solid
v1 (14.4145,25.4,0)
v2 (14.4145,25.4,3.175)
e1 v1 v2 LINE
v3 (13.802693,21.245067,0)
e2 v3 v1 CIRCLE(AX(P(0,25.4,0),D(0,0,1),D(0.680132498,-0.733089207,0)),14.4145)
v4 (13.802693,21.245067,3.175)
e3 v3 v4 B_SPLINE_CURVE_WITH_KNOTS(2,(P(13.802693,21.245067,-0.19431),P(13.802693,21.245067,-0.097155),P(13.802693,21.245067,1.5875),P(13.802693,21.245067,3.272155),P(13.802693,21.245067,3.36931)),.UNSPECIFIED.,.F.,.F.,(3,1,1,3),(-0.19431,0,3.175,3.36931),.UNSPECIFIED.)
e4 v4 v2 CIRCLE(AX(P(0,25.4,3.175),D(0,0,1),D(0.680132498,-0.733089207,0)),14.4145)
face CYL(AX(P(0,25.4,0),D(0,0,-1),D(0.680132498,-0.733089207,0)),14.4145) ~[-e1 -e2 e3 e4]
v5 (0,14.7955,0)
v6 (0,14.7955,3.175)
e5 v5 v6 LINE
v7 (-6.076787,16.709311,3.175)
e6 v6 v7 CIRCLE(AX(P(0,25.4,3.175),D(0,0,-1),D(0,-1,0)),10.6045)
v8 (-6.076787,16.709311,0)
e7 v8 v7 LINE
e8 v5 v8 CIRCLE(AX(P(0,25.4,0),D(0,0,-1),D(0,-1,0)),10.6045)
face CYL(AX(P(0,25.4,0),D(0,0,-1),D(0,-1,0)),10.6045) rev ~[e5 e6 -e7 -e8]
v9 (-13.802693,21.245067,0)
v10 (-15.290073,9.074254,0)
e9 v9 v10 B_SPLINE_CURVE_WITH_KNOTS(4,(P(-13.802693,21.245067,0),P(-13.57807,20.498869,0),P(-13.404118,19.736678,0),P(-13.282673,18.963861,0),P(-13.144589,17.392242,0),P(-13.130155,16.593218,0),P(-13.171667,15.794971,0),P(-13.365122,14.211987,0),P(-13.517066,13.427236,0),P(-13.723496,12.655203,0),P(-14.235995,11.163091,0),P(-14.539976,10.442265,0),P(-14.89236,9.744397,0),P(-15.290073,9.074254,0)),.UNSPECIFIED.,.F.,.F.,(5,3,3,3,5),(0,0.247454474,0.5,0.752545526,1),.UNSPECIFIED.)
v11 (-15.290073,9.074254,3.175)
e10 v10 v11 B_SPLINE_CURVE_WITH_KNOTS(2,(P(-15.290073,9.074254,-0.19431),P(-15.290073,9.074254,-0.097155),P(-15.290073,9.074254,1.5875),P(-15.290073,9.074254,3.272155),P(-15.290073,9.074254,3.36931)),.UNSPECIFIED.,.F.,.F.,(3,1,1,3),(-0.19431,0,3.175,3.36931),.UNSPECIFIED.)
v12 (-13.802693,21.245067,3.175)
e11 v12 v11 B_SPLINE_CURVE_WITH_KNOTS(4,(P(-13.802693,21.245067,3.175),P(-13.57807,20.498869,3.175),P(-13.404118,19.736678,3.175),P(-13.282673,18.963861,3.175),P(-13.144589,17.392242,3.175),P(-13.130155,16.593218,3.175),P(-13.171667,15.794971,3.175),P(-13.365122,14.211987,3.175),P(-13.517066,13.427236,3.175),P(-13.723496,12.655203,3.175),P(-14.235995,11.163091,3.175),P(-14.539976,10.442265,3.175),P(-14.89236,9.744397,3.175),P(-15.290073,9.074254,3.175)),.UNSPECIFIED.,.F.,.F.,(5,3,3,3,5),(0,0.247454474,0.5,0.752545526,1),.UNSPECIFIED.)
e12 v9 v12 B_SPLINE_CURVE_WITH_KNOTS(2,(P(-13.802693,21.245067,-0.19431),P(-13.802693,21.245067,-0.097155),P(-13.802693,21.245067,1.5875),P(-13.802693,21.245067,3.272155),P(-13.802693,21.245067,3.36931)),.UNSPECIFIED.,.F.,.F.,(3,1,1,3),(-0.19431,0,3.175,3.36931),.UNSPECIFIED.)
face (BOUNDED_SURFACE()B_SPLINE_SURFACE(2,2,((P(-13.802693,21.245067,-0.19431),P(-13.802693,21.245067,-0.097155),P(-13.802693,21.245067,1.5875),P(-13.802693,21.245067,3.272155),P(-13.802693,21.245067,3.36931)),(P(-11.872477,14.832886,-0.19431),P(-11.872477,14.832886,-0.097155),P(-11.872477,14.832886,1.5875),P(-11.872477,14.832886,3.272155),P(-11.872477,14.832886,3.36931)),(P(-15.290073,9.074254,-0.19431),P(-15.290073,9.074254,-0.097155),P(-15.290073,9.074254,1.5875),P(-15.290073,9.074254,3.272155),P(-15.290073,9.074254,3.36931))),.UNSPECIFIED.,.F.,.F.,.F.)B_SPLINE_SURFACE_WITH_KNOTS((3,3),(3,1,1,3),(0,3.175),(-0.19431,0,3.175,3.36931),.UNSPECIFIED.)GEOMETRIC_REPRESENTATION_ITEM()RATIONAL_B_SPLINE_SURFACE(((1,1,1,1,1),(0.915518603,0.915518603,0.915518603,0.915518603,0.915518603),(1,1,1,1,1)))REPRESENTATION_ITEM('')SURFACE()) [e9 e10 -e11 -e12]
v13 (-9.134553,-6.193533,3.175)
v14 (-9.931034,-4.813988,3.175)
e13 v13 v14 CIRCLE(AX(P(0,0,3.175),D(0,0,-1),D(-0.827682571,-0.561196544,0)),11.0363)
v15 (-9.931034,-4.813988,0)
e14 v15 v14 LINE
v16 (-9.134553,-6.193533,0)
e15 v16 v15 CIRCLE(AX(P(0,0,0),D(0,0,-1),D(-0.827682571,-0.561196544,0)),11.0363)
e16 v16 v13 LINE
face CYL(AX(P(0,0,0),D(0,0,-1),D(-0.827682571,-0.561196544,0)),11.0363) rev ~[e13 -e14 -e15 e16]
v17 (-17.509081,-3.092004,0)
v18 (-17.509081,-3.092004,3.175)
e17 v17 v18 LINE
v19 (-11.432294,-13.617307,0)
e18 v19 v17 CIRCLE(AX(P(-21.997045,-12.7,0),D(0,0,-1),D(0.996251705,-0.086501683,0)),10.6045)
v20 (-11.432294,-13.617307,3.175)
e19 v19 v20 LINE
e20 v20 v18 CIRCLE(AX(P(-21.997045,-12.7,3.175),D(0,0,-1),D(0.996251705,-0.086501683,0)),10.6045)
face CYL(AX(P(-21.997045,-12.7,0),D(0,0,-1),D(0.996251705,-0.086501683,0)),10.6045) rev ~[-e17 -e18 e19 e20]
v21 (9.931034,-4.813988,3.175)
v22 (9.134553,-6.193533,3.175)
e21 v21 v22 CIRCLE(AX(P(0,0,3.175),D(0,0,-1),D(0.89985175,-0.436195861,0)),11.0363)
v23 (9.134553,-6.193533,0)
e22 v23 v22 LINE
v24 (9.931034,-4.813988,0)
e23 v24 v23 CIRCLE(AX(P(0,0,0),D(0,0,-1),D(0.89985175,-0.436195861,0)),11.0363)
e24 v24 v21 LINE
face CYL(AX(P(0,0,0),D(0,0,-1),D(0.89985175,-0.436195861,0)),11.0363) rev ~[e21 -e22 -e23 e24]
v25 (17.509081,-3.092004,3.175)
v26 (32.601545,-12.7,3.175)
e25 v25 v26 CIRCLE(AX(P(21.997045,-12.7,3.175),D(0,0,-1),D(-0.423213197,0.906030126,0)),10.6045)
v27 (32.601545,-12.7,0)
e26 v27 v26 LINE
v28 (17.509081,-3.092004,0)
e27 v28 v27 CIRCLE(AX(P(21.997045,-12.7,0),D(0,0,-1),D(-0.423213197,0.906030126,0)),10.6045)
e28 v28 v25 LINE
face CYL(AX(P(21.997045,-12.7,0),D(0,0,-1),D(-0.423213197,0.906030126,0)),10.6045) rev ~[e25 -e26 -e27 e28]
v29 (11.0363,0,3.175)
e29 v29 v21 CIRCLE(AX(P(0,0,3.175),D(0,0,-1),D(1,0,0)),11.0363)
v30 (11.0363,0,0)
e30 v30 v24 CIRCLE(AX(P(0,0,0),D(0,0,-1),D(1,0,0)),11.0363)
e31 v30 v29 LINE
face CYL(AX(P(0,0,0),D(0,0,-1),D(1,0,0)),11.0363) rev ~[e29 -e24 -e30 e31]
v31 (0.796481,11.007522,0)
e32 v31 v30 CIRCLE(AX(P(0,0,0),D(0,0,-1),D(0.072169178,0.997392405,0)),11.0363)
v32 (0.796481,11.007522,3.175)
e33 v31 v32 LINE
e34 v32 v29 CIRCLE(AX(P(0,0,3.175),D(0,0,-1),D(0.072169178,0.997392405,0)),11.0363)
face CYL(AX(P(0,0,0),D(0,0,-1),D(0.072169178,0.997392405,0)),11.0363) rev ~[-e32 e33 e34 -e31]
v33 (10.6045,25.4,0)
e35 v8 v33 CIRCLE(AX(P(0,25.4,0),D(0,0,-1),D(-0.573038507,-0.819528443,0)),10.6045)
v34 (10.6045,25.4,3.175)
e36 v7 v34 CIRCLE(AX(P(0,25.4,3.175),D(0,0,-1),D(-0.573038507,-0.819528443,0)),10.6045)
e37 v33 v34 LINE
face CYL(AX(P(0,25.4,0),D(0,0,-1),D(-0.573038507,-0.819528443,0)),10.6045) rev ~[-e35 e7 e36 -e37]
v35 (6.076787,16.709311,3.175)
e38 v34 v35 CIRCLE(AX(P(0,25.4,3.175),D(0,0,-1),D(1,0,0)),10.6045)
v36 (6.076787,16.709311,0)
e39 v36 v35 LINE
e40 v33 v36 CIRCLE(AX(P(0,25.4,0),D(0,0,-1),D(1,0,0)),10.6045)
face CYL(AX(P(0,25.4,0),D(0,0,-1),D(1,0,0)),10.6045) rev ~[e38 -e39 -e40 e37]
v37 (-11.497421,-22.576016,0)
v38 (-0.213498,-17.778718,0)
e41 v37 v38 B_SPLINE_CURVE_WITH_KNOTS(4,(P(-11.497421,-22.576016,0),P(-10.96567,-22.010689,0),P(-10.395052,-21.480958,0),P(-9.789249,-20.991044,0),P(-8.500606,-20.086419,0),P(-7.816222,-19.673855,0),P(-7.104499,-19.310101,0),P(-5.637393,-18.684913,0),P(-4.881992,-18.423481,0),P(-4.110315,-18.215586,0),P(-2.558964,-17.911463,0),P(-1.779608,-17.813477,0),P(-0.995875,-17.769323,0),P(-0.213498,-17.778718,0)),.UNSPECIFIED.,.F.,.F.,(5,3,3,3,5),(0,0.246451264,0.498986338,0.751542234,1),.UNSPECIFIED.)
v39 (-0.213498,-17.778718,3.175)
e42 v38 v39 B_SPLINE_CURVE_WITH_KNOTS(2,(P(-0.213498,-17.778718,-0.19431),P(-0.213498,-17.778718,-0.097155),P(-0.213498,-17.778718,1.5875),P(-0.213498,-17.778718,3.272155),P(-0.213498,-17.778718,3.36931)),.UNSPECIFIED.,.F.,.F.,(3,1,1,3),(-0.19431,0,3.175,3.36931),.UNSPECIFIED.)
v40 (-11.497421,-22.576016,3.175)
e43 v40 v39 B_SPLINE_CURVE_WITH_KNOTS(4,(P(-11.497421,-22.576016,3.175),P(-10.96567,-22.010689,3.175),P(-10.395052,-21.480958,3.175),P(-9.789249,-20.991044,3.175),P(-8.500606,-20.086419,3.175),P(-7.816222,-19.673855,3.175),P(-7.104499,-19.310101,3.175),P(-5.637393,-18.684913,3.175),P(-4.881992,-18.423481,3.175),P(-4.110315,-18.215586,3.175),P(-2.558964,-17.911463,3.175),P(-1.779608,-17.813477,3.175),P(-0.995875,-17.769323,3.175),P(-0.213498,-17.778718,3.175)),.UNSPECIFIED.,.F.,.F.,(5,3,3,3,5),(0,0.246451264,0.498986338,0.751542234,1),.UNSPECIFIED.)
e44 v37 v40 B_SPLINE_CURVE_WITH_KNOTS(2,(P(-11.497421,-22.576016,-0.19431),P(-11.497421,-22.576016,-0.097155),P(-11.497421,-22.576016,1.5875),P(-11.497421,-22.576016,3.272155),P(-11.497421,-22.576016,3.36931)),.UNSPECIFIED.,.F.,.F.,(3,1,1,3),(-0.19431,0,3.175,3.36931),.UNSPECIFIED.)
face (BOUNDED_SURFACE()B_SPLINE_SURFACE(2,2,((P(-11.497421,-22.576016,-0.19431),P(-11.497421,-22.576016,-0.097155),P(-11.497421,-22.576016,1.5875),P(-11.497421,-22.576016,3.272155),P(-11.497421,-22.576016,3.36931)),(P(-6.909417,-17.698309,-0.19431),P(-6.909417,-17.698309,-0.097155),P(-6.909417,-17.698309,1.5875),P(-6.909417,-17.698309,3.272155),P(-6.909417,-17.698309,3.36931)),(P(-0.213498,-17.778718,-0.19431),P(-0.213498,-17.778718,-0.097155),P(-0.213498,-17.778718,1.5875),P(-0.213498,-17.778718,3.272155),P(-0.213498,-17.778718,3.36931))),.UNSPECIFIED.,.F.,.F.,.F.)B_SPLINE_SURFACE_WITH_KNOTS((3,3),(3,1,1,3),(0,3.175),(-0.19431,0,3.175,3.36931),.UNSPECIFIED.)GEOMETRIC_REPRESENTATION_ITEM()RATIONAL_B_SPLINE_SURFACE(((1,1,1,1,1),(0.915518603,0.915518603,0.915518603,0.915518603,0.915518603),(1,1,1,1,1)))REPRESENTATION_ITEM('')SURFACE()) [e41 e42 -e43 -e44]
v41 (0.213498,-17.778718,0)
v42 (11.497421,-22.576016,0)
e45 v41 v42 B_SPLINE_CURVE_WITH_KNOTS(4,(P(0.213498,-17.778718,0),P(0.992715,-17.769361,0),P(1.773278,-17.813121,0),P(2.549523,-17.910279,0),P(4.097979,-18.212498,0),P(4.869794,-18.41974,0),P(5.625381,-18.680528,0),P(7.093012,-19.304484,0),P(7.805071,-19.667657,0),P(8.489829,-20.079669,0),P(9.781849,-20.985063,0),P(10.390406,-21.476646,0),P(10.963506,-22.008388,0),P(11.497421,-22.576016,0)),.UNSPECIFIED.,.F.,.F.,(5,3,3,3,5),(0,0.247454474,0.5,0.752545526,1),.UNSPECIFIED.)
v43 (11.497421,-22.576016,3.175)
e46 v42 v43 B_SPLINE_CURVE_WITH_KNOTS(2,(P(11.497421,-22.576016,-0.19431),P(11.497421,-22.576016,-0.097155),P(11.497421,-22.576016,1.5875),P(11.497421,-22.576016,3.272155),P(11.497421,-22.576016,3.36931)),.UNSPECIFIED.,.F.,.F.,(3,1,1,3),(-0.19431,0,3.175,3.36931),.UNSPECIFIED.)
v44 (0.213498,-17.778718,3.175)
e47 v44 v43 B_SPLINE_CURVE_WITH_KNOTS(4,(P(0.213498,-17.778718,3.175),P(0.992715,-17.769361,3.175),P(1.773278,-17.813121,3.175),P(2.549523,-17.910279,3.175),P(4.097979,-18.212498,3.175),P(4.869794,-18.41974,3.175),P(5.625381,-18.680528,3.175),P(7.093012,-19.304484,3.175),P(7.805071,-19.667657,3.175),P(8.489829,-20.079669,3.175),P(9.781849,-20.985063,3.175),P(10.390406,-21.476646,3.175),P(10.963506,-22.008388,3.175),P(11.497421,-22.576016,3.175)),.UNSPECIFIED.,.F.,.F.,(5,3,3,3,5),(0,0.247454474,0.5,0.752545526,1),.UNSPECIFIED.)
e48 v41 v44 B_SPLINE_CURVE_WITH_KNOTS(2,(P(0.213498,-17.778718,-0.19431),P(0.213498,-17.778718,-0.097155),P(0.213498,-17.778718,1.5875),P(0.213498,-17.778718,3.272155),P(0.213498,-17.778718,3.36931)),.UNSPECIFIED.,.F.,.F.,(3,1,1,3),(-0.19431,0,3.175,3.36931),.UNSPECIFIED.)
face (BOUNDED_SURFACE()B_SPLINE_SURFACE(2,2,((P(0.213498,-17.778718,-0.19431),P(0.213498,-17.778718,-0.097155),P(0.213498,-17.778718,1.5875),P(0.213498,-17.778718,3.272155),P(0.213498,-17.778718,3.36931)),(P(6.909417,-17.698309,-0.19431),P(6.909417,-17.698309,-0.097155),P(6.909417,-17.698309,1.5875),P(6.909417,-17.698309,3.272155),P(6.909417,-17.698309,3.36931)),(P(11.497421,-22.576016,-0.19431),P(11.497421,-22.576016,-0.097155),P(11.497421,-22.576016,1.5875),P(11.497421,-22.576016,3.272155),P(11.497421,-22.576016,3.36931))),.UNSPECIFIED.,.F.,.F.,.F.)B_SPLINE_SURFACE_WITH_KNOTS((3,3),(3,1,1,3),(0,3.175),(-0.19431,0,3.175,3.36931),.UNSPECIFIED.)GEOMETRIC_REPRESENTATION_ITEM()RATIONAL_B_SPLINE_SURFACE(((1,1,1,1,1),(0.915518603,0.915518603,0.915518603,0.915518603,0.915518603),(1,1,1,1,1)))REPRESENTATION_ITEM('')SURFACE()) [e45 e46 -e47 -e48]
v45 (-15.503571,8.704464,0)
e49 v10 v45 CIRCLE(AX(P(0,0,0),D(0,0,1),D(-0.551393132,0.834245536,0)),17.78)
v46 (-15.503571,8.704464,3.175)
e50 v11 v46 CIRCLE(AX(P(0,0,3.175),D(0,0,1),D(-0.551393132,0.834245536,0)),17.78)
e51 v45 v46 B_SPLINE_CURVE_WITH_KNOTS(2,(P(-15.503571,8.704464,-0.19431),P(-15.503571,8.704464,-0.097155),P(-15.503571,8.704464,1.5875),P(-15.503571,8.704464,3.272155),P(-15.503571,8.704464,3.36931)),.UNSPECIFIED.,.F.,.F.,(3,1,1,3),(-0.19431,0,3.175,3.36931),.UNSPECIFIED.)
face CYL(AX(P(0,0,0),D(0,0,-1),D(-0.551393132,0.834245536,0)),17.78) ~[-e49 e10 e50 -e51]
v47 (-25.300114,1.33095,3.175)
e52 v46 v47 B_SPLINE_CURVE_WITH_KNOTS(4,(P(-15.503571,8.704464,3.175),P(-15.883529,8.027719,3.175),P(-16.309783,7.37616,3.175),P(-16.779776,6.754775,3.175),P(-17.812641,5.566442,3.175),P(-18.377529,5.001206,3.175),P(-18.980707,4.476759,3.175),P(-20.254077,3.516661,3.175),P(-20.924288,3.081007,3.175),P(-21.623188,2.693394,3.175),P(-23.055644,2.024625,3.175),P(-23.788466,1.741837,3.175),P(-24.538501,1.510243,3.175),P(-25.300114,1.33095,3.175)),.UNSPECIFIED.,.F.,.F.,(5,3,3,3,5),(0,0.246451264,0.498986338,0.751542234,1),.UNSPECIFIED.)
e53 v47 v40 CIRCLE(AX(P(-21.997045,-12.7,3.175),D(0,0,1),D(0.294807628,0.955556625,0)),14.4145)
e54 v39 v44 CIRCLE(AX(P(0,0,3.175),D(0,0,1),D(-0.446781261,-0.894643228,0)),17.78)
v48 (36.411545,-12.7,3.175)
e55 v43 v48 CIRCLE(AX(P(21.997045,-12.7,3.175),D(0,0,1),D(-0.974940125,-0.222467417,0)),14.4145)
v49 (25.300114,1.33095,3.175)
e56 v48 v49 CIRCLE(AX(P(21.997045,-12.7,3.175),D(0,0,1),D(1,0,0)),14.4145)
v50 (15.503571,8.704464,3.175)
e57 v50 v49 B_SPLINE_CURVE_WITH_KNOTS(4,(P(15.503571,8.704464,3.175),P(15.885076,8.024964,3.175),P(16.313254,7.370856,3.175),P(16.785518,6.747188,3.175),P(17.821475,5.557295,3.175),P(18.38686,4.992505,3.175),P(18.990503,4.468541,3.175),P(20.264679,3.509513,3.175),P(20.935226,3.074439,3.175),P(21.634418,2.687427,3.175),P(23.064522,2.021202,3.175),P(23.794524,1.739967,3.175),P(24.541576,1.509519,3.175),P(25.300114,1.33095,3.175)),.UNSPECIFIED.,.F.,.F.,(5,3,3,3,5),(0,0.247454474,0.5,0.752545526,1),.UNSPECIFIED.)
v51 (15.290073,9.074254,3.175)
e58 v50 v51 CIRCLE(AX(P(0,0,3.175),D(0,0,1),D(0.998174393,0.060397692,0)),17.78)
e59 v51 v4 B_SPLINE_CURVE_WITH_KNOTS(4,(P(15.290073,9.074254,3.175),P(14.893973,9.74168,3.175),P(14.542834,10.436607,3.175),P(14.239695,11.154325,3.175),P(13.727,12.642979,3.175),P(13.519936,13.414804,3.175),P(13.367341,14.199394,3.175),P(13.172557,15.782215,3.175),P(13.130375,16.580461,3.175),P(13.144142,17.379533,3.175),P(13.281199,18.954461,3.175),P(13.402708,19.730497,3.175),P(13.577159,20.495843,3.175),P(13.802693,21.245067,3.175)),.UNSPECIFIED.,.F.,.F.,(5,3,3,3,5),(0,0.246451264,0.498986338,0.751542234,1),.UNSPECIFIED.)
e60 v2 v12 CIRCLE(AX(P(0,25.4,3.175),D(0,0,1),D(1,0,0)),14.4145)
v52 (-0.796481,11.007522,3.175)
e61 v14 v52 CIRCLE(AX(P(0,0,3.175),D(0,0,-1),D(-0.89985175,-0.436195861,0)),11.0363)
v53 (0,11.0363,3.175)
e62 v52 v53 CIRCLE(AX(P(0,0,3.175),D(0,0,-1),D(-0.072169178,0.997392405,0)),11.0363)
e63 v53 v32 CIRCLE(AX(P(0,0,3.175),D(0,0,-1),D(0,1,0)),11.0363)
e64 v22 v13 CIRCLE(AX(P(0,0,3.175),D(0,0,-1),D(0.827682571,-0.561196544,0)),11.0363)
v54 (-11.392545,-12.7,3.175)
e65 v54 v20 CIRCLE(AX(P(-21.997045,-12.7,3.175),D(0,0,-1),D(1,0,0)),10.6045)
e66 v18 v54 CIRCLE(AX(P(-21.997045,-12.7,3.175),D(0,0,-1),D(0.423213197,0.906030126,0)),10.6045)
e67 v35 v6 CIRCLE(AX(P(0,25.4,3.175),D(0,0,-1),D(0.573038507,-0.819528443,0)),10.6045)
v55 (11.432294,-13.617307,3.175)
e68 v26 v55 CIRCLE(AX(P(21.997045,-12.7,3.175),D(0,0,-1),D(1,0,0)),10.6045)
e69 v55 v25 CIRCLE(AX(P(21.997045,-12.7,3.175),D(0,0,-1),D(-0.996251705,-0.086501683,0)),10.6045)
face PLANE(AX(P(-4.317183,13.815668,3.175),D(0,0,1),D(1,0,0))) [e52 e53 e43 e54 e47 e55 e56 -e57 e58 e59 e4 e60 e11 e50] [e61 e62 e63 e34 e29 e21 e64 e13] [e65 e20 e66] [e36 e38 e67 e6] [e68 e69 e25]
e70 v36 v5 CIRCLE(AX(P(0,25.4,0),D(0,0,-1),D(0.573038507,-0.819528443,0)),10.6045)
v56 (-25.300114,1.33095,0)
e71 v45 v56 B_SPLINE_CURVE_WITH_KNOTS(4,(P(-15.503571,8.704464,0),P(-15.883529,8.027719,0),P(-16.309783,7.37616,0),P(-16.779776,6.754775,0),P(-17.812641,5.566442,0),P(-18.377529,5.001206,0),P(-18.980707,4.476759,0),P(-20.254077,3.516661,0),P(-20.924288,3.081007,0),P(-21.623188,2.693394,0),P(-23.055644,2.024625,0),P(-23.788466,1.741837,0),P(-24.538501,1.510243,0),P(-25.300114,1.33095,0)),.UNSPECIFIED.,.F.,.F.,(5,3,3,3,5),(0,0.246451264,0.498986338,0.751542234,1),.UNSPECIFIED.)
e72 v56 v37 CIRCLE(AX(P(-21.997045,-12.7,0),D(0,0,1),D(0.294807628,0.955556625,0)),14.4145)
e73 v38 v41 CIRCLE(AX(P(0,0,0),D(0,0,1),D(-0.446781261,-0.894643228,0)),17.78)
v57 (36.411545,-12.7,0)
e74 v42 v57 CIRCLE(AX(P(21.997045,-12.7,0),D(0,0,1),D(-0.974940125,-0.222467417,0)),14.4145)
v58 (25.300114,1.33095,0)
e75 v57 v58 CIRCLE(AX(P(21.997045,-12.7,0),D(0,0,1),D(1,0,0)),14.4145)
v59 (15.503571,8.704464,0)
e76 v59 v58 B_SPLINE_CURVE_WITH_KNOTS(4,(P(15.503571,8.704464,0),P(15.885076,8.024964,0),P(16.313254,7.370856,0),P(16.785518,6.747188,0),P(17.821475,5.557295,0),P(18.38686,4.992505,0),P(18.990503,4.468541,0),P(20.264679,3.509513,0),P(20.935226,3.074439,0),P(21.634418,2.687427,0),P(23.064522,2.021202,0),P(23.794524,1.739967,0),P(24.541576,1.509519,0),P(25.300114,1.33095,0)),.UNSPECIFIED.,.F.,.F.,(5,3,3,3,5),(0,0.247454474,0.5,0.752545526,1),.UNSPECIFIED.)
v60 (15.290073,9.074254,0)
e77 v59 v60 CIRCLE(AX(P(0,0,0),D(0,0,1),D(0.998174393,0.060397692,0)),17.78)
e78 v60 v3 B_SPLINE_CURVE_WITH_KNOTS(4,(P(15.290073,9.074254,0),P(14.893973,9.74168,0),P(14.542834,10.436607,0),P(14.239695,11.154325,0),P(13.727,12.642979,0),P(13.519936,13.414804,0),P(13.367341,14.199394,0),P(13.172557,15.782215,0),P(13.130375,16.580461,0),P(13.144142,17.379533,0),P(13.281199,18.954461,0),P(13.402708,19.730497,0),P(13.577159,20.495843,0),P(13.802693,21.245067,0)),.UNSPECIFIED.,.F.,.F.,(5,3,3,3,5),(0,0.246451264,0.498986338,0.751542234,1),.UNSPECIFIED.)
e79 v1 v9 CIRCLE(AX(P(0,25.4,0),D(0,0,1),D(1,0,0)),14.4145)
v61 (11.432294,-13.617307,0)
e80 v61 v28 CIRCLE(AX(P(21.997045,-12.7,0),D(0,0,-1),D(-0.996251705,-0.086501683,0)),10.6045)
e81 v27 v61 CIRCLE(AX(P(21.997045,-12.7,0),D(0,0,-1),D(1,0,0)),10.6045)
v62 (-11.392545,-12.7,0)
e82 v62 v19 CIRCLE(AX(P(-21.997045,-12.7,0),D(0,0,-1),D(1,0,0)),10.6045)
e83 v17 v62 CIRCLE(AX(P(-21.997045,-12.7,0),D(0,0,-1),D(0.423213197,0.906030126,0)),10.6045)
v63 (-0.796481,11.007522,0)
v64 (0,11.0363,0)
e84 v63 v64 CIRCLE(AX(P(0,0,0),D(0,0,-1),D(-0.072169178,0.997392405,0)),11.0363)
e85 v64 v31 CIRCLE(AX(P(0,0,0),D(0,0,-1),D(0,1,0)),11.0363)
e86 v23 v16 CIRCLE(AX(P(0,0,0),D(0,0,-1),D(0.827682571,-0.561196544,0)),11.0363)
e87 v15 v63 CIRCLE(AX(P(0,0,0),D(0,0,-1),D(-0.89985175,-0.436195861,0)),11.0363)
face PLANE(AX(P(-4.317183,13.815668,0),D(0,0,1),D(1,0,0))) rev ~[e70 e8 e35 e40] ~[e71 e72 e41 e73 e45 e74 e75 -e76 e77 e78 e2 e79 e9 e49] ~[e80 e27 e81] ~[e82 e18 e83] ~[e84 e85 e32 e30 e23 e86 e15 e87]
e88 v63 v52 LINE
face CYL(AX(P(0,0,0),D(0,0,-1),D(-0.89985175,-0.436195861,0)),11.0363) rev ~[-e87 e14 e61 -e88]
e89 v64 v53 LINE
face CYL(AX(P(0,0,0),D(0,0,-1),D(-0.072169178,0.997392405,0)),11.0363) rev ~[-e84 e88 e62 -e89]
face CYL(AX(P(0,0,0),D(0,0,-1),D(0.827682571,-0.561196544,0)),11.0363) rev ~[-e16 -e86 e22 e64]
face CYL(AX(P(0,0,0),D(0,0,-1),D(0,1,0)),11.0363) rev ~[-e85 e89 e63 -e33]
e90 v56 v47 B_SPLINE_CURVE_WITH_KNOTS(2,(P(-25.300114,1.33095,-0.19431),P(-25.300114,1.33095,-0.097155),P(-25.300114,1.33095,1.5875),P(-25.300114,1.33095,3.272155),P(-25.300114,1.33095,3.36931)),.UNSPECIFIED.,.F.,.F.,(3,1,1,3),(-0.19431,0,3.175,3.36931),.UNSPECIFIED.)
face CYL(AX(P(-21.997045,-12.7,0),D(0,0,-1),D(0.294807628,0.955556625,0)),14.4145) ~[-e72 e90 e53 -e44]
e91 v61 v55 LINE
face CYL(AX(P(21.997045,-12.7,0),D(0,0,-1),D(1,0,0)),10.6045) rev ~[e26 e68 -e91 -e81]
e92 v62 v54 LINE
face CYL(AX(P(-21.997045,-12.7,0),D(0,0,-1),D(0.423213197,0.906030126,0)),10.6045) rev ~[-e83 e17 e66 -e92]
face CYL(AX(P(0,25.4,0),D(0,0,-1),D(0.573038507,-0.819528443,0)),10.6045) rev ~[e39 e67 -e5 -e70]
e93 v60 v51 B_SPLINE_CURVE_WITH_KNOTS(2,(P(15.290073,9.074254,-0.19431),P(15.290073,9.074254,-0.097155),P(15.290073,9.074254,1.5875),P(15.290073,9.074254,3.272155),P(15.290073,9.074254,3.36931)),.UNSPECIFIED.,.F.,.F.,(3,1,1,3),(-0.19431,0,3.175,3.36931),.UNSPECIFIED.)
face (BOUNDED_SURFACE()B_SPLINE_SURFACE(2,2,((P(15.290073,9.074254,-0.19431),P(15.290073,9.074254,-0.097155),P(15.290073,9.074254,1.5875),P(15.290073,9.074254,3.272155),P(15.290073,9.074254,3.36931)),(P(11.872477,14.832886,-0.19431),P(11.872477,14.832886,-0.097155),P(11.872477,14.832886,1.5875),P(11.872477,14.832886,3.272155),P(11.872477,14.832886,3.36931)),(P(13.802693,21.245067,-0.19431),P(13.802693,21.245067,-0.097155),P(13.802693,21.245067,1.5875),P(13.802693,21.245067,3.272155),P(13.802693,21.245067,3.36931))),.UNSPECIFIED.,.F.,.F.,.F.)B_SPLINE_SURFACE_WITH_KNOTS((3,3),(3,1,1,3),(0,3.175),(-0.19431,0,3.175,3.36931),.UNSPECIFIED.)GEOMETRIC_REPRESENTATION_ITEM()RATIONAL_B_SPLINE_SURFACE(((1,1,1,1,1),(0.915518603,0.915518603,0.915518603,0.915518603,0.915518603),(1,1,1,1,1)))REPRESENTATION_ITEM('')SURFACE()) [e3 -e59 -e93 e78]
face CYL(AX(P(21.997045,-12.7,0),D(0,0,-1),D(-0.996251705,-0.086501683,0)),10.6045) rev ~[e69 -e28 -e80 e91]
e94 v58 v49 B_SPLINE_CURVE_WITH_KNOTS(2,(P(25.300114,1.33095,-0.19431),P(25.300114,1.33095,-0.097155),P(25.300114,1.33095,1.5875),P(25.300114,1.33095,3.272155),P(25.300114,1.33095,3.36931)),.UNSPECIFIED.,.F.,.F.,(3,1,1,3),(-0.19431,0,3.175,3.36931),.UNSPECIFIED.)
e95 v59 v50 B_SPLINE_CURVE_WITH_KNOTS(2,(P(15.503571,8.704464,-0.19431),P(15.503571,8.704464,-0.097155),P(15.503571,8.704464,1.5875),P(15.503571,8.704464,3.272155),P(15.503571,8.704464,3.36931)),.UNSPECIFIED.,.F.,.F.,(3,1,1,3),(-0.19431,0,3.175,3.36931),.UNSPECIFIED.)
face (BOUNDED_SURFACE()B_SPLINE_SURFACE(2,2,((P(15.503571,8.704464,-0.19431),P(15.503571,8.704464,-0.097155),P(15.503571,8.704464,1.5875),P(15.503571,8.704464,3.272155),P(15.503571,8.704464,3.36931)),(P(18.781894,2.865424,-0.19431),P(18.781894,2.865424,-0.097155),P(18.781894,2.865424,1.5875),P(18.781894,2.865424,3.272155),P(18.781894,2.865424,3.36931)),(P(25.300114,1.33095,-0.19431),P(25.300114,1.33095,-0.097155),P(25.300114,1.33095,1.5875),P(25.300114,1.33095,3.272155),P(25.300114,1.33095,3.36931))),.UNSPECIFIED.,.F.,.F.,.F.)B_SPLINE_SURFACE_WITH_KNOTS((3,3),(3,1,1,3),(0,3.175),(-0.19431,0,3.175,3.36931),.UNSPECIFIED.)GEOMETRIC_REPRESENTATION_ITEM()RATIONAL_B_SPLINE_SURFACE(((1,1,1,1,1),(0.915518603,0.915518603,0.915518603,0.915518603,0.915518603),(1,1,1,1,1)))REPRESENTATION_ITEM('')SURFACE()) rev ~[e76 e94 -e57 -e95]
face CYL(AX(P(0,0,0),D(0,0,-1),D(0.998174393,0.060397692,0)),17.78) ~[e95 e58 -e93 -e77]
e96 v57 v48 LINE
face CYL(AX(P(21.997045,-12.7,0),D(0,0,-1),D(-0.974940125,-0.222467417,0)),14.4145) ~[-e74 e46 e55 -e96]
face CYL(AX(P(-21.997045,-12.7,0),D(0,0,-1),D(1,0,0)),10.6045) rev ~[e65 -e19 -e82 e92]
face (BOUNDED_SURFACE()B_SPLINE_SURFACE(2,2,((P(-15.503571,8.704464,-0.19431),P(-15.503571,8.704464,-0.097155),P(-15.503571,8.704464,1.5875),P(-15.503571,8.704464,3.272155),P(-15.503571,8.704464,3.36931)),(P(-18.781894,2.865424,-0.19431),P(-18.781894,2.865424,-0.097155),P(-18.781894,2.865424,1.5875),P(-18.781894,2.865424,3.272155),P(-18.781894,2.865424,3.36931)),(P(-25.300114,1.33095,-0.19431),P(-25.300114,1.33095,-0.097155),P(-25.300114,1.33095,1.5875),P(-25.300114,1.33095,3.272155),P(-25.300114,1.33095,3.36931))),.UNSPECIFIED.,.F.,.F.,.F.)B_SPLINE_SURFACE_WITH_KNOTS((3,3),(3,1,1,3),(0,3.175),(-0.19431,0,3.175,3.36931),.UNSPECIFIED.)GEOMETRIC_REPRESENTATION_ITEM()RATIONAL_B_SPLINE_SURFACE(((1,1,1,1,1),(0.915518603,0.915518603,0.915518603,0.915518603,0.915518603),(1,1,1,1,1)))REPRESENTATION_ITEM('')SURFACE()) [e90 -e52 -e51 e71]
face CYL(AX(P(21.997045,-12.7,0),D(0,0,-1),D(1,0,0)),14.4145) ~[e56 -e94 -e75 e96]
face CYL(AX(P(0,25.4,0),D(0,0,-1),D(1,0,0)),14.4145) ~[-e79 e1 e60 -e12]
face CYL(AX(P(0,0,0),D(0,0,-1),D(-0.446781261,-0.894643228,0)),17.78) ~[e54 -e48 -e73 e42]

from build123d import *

# Parameters (mm, degrees)
F1_DEPTH = 3.175
F2_R     = 15.24


with BuildPart() as f1:
    # F0 (on Top) → F1 (new body)
    with BuildSketch(Plane.XY):
        with BuildLine():
            ThreePointArc((-0.7964807044, 11.0075218), (-0.3985002187, 11.0291031034), (0, 11.0363))
            Line((0, 11.0363), (0, 14.7955))
            ThreePointArc((0, 14.7955), (-3.1855144618, 15.2852623433), (-6.0767868514, 16.709310625))
            ThreePointArc((-6.0767868514, 16.709310625), (-7.9955151986, 15.8808103291), (-9.803769889, 14.832885625))
            ThreePointArc((-9.803769889, 14.832885625), (-5.6346854623, 12.132440692), (-0.7964807044, 11.0075218))
        make_face()
        with BuildLine():
            Line((0, 14.7955), (0, 11.0363))
            ThreePointArc((0, 11.0363), (0.3985002187, 11.0291031034), (0.7964807044, 11.0075218))
            ThreePointArc((0.7964807044, 11.0075218), (5.6346854623, 12.132440692), (9.803769889, 14.832885625))
            ThreePointArc((9.803769889, 14.832885625), (7.9955151986, 15.8808103291), (6.0767868514, 16.709310625))
            ThreePointArc((6.0767868514, 16.709310625), (3.1855144618, 15.2852623433), (0, 14.7955))
        make_face()
        with BuildLine():
            ThreePointArc((-9.9310338637, -4.8139883763), (-9.5577161638, 5.51815), (-0.7964807044, 11.0075218))
            ThreePointArc((-0.7964807044, 11.0075218), (-5.6346854623, 12.132440692), (-9.803769889, 14.832885625))
            ThreePointArc((-9.803769889, 14.832885625), (-15.3979316793, 8.89), (-17.7475407072, 1.0738709642))
            ThreePointArc((-17.7475407072, 1.0738709642), (-13.3243445803, -1.1864395933), (-9.9310338637, -4.8139883763))
        make_face()
        with BuildLine():
            ThreePointArc((9.803769889, 14.832885625), (5.6346854623, 12.132440692), (0.7964807044, 11.0075218))
            ThreePointArc((0.7964807044, 11.0075218), (8.0805358018, 7.5169713879), (11.0363, 0))
            ThreePointArc((11.0363, 0), (10.7564349745, -2.4696202805), (9.9310338637, -4.8139883763))
            ThreePointArc((9.9310338637, -4.8139883763), (13.3243445803, -1.1864395933), (17.7475407072, 1.0738709642))
            ThreePointArc((17.7475407072, 1.0738709642), (15.3979316793, 8.89), (9.803769889, 14.832885625))
        make_face()
        with BuildLine():
            ThreePointArc((-9.1345531593, -6.1935334237), (-9.5577161638, -5.51815), (-9.9310338637, -4.8139883763))
            ThreePointArc((-9.9310338637, -4.8139883763), (-13.3243445803, -1.1864395933), (-17.7475407072, 1.0738709642))
            ThreePointArc((-17.7475407072, 1.0738709642), (-17.750942777, -1.0160858862), (-17.5090809067, -3.0920035258))
            ThreePointArc((-17.5090809067, -3.0920035258), (-13.0514307386, -7.0051425696), (-11.3925452561, -12.7))
            ThreePointArc((-11.3925452561, -12.7), (-11.4024871162, -13.1590839469), (-11.4322940553, -13.6173070992))
            ThreePointArc((-11.4322940553, -13.6173070992), (-9.7554275784, -14.8647244429), (-7.9437708182, -15.9067565892))
            ThreePointArc((-7.9437708182, -15.9067565892), (-7.6731363163, -14.3135188044), (-7.5825452561, -12.7))
            ThreePointArc((-7.5825452561, -12.7), (-7.9759147279, -9.3554957079), (-9.1345531593, -6.1935334237))
        make_face()
        with BuildLine():
            ThreePointArc((14.4145, 25.4), (-5.7646061958, 38.6116284256), (-9.803769889, 14.832885625))
            ThreePointArc((-9.803769889, 14.832885625), (-7.9955151986, 15.8808103291), (-6.0767868514, 16.709310625))
            ThreePointArc((-6.0767868514, 16.709310625), (-4.8997007095, 34.8046984645), (10.6045, 25.4))
            ThreePointArc((10.6045, 25.4), (9.4046984645, 20.5002992905), (6.0767868514, 16.709310625))
            ThreePointArc((6.0767868514, 16.709310625), (7.9955151986, 15.8808103291), (9.803769889, 14.832885625))
            ThreePointArc((9.803769889, 14.832885625), (13.2116284256, 19.6353938042), (14.4145, 25.4))
        make_face()
        with BuildLine():
            ThreePointArc((9.1345531593, -6.1935334237), (0, -11.0363), (-9.1345531593, -6.1935334237))
            ThreePointArc((-9.1345531593, -6.1935334237), (-7.9759147279, -9.3554957079), (-7.5825452561, -12.7))
            ThreePointArc((-7.5825452561, -12.7), (-7.6731363163, -14.3135188044), (-7.9437708182, -15.9067565892))
            ThreePointArc((-7.9437708182, -15.9067565892), (0, -17.78), (7.9437708182, -15.9067565892))
            ThreePointArc((7.9437708182, -15.9067565892), (7.689659118, -10.9460010987), (9.1345531593, -6.1935334237))
        make_face()
        with BuildLine():
            ThreePointArc((-17.5090809067, -3.0920035258), (-17.750942777, -1.0160858862), (-17.7475407072, 1.0738709642))
            ThreePointArc((-17.7475407072, 1.0738709642), (-34.480368439, -19.90725), (-7.9437708182, -15.9067565892))
            ThreePointArc((-7.9437708182, -15.9067565892), (-9.7554275784, -14.8647244429), (-11.4322940553, -13.6173070992))
            ThreePointArc((-11.4322940553, -13.6173070992), (-31.1808116506, -18.00225), (-17.5090809067, -3.0920035258))
        make_face()
        with BuildLine():
            ThreePointArc((17.7475407072, 1.0738709642), (13.3243445803, -1.1864395933), (9.9310338637, -4.8139883763))
            ThreePointArc((9.9310338637, -4.8139883763), (9.5577161638, -5.51815), (9.1345531593, -6.1935334237))
            ThreePointArc((9.1345531593, -6.1935334237), (7.689659118, -10.9460010987), (7.9437708182, -15.9067565892))
            ThreePointArc((7.9437708182, -15.9067565892), (9.7554275784, -14.8647244429), (11.4322940553, -13.6173070992))
            ThreePointArc((11.4322940553, -13.6173070992), (12.8132788617, -7.39775), (17.5090809067, -3.0920035258))
            ThreePointArc((17.5090809067, -3.0920035258), (17.7121407306, -1.5519248499), (17.78, 0))
            ThreePointArc((17.78, 0), (17.7718833241, 0.5371807083), (17.7475407072, 1.0738709642))
        make_face()
        with BuildLine():
            ThreePointArc((36.4115452561, -12.7), (30.5563480002, -1.1018903788), (17.7475407072, 1.0738709642))
            ThreePointArc((17.7475407072, 1.0738709642), (17.7718833241, 0.5371807083), (17.78, 0))
            ThreePointArc((17.78, 0), (17.7121407306, -1.5519248499), (17.5090809067, -3.0920035258))
            ThreePointArc((17.5090809067, -3.0920035258), (27.6919026866, -3.7543854824), (32.6015452561, -12.7))
            ThreePointArc((32.6015452561, -12.7), (22.456129203, -23.2945581399), (11.4322940553, -13.6173070992))
            ThreePointArc((11.4322940553, -13.6173070992), (9.7554275784, -14.8647244429), (7.9437708182, -15.9067565892))
            ThreePointArc((7.9437708182, -15.9067565892), (23.6105640606, -27.0239089399), (36.4115452561, -12.7))
        make_face()
    extrude(amount=F1_DEPTH)

    # F2
    f2_edges = [f1.edges().sort_by_distance(p)[0] for p in [
        (-9.80377, 14.832886, 1.5875),
        (-17.747541, 1.073871, 1.5875),
        (-7.943771, -15.906757, 1.5875),
        (17.747541, 1.073871, 1.5875),
        (7.943771, -15.906757, 1.5875),
        (9.80377, 14.832886, 1.5875),
    ]]
    fillet(f2_edges, radius=F2_R)


solid = f1.part
